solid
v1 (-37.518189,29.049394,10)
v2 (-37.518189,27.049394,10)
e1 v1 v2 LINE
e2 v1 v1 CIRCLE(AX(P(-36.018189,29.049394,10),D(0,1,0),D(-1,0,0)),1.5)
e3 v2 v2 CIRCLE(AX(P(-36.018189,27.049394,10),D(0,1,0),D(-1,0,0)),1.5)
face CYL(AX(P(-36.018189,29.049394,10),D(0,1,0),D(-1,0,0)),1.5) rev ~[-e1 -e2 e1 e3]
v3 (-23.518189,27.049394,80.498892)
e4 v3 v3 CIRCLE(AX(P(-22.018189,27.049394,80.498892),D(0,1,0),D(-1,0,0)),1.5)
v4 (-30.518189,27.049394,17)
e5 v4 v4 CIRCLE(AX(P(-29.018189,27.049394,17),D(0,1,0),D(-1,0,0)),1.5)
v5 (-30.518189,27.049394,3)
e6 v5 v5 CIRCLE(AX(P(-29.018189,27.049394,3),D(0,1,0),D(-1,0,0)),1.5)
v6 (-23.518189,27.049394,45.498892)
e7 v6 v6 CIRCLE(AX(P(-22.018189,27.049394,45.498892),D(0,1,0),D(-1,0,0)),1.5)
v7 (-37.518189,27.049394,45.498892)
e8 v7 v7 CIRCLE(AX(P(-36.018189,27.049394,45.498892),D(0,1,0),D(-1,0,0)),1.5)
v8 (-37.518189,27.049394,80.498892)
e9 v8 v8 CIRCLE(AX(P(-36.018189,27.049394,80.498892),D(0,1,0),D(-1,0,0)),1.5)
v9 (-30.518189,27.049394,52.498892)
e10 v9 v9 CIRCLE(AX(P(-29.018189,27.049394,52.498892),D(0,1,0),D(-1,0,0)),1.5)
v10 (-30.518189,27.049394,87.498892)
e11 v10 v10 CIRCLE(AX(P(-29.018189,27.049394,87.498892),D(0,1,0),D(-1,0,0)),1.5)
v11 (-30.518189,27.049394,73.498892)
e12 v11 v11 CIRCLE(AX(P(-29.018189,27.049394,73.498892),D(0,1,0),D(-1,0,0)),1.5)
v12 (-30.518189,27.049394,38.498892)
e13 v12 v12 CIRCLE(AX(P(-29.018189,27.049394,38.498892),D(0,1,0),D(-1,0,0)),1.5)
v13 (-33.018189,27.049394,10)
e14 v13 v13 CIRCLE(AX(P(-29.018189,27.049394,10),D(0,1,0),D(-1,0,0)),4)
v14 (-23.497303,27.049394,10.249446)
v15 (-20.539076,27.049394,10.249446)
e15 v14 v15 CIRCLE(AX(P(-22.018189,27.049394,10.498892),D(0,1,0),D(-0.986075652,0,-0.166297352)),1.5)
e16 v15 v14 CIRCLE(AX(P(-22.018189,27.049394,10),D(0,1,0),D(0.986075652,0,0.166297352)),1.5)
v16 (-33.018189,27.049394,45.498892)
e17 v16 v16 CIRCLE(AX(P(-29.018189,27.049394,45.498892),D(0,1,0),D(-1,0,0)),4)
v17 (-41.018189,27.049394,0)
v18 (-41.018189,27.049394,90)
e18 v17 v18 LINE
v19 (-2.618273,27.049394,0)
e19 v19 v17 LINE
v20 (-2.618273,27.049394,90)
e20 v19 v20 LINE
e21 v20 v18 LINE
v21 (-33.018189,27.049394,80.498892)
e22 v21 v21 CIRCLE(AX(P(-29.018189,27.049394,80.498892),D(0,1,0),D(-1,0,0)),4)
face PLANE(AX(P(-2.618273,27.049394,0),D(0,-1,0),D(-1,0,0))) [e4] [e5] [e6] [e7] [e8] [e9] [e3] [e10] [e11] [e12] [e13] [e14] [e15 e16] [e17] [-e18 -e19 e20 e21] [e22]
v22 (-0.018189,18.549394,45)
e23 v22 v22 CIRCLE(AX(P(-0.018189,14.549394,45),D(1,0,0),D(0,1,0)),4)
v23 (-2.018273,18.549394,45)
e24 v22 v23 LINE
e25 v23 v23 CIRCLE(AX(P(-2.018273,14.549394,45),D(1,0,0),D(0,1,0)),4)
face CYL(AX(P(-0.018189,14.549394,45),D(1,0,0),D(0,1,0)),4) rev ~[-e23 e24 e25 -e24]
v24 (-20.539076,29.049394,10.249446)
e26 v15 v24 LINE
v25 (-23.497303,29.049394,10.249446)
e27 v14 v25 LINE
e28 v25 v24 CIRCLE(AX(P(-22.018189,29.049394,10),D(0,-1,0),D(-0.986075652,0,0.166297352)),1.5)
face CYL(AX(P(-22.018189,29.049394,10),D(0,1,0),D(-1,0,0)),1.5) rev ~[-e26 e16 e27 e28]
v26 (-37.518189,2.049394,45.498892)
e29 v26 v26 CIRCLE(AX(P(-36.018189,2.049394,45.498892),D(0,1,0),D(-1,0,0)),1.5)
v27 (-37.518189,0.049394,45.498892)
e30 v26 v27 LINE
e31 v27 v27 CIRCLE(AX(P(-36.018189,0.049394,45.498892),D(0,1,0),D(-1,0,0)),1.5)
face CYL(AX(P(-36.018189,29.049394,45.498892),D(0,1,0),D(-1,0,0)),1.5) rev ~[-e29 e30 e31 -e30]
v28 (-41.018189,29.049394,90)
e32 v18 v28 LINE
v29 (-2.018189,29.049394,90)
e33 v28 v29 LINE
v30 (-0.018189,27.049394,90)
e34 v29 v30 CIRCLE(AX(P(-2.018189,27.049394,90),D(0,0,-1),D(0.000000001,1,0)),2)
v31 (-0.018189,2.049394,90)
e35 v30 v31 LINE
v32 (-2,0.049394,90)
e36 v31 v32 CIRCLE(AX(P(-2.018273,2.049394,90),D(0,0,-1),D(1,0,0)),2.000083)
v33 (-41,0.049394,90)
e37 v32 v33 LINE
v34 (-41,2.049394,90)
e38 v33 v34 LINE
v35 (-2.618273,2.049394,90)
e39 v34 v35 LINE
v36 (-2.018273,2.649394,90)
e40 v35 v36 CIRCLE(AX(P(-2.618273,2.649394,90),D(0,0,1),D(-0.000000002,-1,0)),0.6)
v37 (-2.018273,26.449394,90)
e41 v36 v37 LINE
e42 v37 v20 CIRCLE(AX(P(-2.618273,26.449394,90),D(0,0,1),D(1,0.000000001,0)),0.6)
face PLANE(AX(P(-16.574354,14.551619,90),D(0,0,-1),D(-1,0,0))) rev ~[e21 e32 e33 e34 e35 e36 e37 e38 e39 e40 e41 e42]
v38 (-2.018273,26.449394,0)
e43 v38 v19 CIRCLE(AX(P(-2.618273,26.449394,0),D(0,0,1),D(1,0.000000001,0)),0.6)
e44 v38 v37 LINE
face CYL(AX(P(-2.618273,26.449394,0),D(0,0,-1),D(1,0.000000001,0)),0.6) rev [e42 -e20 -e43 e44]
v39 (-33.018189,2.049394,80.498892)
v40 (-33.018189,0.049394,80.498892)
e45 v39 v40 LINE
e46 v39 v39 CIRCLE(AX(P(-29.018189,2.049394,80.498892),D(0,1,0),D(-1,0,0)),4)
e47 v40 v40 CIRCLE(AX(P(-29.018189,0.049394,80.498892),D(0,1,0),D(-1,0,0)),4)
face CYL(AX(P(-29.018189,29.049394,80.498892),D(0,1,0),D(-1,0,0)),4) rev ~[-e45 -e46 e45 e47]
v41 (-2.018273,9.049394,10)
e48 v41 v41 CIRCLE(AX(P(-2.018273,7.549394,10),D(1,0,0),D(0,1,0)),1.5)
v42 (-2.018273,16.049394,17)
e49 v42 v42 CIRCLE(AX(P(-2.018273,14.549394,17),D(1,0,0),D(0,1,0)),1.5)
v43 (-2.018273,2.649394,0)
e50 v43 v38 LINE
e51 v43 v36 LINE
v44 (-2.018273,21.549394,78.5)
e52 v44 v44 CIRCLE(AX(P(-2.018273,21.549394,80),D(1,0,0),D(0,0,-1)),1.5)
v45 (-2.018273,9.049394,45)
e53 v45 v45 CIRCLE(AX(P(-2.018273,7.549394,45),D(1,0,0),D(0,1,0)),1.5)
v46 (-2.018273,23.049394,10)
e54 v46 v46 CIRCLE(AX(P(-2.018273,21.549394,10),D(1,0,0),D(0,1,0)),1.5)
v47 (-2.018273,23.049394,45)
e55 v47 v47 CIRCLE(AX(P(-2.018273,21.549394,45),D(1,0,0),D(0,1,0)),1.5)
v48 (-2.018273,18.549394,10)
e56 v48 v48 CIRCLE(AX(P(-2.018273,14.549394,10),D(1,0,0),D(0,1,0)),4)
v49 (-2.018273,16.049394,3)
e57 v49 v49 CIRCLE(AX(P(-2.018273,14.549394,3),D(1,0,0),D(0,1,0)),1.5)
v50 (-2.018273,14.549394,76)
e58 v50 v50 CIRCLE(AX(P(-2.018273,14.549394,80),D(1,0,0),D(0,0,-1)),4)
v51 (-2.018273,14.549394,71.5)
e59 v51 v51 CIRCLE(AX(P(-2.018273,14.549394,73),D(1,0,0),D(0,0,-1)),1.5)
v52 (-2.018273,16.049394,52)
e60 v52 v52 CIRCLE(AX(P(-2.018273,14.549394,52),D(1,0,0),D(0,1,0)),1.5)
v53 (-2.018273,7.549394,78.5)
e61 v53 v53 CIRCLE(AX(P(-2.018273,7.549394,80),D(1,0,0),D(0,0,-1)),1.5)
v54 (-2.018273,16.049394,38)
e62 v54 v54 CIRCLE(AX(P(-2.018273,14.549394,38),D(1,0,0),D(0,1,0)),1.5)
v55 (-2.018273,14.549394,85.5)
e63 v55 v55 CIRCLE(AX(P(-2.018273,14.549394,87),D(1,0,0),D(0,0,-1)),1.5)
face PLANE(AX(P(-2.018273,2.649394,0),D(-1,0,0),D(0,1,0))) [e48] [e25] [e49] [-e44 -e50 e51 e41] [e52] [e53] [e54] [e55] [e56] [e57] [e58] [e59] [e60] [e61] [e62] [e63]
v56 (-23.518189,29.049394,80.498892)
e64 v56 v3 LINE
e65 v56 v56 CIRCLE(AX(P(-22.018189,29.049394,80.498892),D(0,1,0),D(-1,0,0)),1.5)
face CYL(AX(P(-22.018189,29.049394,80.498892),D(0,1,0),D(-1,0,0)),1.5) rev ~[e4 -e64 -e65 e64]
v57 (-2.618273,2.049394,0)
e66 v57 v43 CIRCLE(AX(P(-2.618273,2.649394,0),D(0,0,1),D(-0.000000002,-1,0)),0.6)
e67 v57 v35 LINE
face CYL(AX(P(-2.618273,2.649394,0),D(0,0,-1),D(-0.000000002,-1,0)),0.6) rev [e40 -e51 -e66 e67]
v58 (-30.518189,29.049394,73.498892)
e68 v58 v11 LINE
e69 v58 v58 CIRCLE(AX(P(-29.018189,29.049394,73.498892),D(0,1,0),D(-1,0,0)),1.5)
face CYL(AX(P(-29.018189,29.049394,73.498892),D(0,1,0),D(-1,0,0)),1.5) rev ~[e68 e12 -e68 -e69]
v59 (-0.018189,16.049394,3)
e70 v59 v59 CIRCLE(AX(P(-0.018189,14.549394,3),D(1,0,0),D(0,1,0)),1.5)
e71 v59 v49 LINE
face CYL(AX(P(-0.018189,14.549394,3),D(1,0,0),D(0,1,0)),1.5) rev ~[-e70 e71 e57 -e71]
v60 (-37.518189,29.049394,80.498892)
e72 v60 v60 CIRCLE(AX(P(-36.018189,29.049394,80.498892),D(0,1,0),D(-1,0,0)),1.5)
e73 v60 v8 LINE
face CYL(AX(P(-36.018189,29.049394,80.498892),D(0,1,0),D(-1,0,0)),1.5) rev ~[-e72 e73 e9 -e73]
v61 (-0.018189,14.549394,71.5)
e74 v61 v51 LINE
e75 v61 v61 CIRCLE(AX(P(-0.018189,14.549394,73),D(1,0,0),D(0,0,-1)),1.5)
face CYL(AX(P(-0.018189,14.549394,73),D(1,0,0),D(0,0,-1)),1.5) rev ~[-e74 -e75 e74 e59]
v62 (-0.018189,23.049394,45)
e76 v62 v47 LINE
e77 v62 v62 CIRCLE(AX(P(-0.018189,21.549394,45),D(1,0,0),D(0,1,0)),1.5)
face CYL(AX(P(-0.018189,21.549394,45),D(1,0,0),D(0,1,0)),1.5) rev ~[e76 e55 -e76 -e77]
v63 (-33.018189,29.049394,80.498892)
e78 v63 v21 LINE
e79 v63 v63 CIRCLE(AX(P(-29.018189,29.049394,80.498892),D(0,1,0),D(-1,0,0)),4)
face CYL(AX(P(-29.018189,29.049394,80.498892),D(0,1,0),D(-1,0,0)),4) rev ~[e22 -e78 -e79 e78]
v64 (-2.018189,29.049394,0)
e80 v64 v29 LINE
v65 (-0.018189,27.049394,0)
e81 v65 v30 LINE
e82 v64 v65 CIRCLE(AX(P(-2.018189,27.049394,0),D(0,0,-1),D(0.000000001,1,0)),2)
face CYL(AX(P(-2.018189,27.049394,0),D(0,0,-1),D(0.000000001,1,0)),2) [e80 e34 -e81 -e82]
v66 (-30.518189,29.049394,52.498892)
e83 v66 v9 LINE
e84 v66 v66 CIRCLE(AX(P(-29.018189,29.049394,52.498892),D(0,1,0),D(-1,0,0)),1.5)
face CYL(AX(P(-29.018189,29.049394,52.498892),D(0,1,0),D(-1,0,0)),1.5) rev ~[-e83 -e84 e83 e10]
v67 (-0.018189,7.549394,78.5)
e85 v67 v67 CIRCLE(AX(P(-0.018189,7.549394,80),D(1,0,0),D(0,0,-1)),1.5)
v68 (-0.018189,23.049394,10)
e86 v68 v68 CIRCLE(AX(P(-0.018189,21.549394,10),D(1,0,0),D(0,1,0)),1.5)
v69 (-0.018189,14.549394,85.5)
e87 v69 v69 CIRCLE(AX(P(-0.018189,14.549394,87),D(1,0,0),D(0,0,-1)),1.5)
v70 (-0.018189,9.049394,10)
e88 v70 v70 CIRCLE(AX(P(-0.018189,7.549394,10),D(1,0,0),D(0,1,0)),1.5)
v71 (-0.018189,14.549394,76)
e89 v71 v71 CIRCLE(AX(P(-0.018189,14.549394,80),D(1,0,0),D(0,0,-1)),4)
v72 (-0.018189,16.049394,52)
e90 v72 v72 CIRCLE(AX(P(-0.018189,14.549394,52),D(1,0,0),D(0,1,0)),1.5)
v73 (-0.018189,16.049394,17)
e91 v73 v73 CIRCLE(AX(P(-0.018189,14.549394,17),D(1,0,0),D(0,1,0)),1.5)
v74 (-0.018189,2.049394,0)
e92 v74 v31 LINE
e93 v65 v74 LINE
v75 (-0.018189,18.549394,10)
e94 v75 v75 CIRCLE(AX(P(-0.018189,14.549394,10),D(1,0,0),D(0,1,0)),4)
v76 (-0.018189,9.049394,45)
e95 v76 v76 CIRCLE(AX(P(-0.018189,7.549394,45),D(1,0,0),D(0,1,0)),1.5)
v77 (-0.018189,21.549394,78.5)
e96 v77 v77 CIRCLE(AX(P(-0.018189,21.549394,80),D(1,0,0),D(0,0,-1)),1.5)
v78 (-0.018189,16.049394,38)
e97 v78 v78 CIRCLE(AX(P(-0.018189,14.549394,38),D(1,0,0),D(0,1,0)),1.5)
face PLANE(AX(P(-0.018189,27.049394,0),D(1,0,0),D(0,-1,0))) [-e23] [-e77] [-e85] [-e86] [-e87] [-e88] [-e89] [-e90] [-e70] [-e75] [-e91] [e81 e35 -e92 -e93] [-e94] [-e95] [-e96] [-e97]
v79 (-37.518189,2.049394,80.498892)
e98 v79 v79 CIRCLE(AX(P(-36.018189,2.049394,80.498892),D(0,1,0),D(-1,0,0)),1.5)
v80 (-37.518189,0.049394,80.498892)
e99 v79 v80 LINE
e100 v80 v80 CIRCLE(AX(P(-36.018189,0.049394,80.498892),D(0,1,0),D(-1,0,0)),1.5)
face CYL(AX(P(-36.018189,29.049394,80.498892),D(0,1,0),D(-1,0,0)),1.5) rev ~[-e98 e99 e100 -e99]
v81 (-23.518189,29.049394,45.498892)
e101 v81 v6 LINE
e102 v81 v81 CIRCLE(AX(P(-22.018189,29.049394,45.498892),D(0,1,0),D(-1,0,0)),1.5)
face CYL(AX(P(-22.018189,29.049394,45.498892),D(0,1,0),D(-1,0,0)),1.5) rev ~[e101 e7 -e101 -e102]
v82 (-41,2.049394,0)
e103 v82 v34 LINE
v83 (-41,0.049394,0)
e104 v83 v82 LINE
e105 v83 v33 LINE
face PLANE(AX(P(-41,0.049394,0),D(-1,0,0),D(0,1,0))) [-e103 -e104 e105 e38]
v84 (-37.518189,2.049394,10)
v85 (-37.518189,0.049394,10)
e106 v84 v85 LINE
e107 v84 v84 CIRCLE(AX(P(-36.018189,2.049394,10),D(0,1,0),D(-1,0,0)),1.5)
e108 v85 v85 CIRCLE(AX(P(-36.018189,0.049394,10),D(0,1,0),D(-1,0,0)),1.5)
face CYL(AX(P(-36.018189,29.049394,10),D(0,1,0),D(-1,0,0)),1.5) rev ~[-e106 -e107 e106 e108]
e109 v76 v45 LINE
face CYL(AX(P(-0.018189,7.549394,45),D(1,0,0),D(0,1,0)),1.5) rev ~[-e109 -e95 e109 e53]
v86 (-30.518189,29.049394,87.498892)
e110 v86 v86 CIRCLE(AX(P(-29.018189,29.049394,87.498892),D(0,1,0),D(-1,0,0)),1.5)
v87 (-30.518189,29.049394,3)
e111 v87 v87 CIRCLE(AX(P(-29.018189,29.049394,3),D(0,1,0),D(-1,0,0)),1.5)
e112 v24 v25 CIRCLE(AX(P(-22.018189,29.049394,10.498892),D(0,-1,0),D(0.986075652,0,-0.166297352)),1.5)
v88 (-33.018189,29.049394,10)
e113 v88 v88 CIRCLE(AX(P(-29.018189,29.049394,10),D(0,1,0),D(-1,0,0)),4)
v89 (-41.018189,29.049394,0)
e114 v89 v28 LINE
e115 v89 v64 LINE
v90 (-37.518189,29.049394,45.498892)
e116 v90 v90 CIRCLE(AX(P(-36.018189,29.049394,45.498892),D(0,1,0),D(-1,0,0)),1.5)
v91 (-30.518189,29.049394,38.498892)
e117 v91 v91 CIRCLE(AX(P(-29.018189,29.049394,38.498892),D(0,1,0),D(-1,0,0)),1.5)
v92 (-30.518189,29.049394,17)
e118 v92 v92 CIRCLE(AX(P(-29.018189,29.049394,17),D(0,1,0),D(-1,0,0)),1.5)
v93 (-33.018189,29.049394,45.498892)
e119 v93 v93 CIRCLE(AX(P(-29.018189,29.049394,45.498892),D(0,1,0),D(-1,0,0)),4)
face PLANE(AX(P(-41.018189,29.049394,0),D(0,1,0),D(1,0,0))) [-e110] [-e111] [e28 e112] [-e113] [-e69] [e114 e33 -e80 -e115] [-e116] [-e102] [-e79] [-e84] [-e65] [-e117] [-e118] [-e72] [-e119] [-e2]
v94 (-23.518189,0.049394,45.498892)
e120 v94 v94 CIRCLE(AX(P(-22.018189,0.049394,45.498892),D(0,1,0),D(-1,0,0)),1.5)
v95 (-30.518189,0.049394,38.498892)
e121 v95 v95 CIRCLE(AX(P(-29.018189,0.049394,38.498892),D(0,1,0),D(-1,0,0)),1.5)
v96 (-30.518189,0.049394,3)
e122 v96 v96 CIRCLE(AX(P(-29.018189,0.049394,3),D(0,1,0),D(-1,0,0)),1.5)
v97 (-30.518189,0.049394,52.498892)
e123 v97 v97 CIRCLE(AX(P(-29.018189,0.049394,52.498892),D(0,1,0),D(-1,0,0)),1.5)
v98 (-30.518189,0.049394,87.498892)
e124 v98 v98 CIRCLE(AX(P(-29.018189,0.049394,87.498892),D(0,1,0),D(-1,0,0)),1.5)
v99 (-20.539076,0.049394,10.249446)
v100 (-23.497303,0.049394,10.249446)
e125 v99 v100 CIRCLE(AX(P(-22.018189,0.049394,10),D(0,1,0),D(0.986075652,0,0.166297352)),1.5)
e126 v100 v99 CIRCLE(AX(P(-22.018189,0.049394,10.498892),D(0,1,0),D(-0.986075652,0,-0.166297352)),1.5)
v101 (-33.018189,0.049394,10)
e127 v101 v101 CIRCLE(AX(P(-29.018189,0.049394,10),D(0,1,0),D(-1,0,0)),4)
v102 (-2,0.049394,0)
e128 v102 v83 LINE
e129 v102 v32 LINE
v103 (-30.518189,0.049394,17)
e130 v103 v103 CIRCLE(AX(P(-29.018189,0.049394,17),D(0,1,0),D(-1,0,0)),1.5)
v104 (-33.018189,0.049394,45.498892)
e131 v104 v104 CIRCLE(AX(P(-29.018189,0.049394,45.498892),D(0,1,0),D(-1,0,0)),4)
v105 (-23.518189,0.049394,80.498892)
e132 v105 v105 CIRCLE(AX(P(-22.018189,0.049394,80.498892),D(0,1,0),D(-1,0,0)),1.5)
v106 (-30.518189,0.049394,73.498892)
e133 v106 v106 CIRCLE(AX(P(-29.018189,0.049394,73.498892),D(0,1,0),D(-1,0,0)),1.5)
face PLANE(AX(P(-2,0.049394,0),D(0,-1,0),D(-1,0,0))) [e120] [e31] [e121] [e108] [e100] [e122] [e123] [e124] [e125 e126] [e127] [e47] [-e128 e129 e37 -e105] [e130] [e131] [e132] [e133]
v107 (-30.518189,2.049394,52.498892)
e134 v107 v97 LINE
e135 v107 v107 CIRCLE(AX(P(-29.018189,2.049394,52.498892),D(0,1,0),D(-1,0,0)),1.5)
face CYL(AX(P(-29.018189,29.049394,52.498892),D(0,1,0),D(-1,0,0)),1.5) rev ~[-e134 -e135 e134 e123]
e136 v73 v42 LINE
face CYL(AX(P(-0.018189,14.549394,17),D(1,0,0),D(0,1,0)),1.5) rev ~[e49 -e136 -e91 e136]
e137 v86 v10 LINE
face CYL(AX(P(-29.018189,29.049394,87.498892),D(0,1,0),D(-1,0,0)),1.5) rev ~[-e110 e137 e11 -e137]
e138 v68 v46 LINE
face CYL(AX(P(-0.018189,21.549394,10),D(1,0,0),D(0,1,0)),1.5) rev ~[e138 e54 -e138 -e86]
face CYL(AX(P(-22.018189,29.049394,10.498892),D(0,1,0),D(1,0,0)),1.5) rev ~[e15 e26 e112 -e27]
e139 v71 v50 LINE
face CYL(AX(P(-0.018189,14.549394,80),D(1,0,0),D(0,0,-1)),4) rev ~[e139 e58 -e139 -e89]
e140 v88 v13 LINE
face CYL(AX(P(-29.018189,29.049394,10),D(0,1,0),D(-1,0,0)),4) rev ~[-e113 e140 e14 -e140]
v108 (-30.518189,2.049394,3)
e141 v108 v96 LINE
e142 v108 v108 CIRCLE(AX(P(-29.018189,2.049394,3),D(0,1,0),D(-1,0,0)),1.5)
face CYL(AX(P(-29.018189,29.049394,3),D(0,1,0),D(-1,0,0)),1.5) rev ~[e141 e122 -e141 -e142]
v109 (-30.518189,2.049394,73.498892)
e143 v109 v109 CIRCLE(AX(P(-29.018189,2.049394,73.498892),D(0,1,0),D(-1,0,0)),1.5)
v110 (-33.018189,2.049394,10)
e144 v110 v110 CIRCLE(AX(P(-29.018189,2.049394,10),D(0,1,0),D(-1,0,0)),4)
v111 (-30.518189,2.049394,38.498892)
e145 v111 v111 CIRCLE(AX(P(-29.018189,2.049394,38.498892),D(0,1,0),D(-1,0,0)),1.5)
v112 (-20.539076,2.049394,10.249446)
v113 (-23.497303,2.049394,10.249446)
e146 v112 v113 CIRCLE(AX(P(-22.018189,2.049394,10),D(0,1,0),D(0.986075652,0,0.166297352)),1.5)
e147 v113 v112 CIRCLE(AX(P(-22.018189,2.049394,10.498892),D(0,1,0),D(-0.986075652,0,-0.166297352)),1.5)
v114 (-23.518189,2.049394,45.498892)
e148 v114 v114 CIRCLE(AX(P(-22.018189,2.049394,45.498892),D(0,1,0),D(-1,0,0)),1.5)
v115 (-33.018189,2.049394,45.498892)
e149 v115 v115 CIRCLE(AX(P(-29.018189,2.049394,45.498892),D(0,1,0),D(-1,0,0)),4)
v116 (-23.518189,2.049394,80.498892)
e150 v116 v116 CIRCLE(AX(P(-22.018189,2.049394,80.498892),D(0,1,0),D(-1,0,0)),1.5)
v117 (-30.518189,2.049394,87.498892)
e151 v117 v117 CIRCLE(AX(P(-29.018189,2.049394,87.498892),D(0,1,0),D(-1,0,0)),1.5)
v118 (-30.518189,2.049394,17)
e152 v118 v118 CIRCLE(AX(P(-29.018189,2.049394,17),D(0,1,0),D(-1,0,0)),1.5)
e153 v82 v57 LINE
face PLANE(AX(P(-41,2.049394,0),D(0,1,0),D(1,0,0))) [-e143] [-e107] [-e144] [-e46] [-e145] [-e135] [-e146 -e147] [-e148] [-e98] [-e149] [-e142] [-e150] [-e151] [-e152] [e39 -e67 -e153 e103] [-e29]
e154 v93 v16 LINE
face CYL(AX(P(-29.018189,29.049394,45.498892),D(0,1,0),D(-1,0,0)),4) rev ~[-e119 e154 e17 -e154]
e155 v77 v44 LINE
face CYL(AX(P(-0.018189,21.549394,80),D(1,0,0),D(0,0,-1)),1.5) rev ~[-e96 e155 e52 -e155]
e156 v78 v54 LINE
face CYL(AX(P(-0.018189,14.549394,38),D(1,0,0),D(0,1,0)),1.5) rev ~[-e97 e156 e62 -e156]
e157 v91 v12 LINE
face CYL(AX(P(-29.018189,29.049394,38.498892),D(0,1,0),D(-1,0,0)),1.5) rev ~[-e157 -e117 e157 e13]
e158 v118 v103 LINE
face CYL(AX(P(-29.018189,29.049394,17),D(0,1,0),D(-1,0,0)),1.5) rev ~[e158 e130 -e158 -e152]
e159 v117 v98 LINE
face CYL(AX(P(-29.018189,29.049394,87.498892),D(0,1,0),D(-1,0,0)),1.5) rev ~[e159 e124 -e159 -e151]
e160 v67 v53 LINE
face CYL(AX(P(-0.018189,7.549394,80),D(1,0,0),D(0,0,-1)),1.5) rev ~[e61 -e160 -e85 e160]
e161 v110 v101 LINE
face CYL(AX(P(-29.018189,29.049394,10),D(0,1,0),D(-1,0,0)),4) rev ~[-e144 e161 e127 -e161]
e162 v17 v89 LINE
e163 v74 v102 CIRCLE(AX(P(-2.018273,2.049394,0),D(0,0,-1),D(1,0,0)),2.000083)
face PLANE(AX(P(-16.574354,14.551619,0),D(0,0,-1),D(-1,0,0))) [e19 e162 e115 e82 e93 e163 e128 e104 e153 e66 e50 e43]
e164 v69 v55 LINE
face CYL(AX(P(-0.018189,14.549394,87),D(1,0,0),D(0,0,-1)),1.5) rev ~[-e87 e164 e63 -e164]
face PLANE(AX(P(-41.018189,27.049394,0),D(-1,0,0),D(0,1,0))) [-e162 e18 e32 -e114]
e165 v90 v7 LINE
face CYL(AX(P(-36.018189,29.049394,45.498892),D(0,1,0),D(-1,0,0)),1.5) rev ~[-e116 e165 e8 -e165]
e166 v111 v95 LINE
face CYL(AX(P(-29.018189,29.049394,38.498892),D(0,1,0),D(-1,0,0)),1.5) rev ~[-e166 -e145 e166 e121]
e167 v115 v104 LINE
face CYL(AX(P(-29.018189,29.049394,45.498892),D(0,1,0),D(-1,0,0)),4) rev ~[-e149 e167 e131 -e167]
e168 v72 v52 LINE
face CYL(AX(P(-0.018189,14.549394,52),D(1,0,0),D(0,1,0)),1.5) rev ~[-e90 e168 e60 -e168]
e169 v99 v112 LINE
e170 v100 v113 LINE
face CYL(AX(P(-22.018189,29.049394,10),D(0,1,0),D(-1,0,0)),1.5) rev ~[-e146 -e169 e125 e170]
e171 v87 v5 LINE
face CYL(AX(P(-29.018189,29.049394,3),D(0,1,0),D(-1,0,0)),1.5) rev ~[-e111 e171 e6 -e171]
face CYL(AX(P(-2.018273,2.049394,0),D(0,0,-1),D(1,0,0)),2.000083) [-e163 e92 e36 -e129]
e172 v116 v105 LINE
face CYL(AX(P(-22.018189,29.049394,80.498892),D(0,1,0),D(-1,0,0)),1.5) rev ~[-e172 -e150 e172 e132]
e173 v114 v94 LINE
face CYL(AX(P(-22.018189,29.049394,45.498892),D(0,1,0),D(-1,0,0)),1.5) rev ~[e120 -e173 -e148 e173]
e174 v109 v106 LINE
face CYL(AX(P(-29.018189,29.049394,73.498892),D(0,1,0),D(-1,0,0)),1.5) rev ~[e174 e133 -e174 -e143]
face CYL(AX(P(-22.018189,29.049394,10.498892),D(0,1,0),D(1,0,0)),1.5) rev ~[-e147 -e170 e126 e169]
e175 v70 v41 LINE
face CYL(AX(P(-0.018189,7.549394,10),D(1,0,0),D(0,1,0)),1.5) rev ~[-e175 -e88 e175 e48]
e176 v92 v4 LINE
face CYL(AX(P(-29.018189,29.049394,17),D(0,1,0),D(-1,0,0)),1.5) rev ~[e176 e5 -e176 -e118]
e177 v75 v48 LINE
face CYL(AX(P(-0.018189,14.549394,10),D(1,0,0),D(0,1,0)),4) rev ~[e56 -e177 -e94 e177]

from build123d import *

# Parameters (mm, degrees)
BOSS_EXTRUDE1_DEPTH   = 90
SKETCH4_R             = 1.5
SKETCH4_R_2           = 4
CUT_EXTRUDE1_DEPTH    = 31
SKETCH6_R             = 4
SKETCH6_R_2           = 1.5
CUT_EXTRUDE2_DEPTH    = 31
CROQUIS3_R            = 4
CROQUIS3_R_2          = 1.5
CORTAR_EXTRUIR1_DEPTH = 10
CROQUIS6_R            = 4
CROQUIS6_R_2          = 1.5
CORTAR_EXTRUIR2_DEPTH = 10


with BuildPart() as part:
    # Sketch3 → Boss-Extrude1 (new body)
    with BuildSketch(Plane.XY):
        with BuildLine():
            Line((-2, 0.049393959), (-41, 0.049393959))
            Line((-41, 0.049393959), (-41, 2.049393959))
            Line((-41, 2.049393959), (-2.618272552, 2.049393959))
            ThreePointArc((-2.618272552, 2.049393959), (-2.194008483, 2.22512989), (-2.018272552, 2.649393959))
            Line((-2.018272552, 2.649393959), (-2.018272552, 26.449393959))
            ThreePointArc((-2.018272552, 26.449393959), (-2.194008483, 26.873658027), (-2.618272552, 27.049393959))
            Line((-2.618272552, 27.049393959), (-41.018189082, 27.049393959))
            Line((-41.018189082, 27.049393959), (-41.018189082, 29.049393959))
            Line((-41.018189082, 29.049393959), (-2.018189082, 29.049393959))
            ThreePointArc((-2.018189082, 29.049393959), (-0.60397552, 28.463607521), (-0.018189082, 27.049393959))
            Line((-0.018189082, 27.049393959), (-0.018189082, 2.049393959))
            ThreePointArc((-0.018189082, 2.049393959), (-0.597554333, 0.64159652), (-2, 0.049393959))
        make_face()
    extrude(amount=BOSS_EXTRUDE1_DEPTH)

    # Sketch4 → Cut-Extrude1 (cut)
    with BuildSketch(Plane(origin=(0, 29.049393959, 0), x_dir=(1, 0, 0), z_dir=(0, 1, 0))):
        with Locations(Location((-29.018189082, -3, 0), (0, 0, 180))):
            Circle(SKETCH4_R)
        with Locations(Location((-36.018189082, -10, 0), (0, 0, 180))):
            Circle(SKETCH4_R)
        with Locations(Location((-29.018189082, -10, 0), (0, 0, 180))):
            Circle(SKETCH4_R_2)
        with Locations(Location((-22.018189082, -10, 0), (0, 0, 180))):
            Circle(SKETCH4_R)
        with Locations(Location((-29.018189082, -17, 0), (0, 0, 180))):
            Circle(SKETCH4_R)
    extrude(amount=-CUT_EXTRUDE1_DEPTH, mode=Mode.SUBTRACT)

    # Sketch6 → Cut-Extrude2 (cut)
    with BuildSketch(Plane(origin=(0, 29.049393959, 0), x_dir=(1, 0, 0), z_dir=(0, 1, 0))):
        with Locations(Location((-29.018189082, -45.498892055, 0), (0, 0, 180))):
            Circle(SKETCH6_R)
        with Locations(Location((-29.018189082, -80.498892055, 0), (0, 0, 180))):
            Circle(SKETCH6_R)
        with Locations(Location((-36.018189082, -45.498892055, 0), (0, 0, 180))):
            Circle(SKETCH6_R_2)
        with Locations(Location((-36.018189082, -80.498892055, 0), (0, 0, 180))):
            Circle(SKETCH6_R_2)
        with Locations((5.981810918, -52.498892055)):
            Circle(SKETCH6_R_2)
        with Locations(Location((-29.018189082, -52.498892055, 0), (0, 0, 180))):
            Circle(SKETCH6_R_2)
        with Locations((-22.018189082, -10.498892055)):
            Circle(SKETCH6_R_2)
        with Locations(Location((-22.018189082, -45.498892055, 0), (0, 0, 180))):
            Circle(SKETCH6_R_2)
        with Locations((-64.018189082, -38.498892055)):
            Circle(SKETCH6_R_2)
        with Locations(Location((-29.018189082, -38.498892055, 0), (0, 0, 180))):
            Circle(SKETCH6_R_2)
        with Locations(Location((-29.018189082, -73.498892055, 0), (0, 0, 180))):
            Circle(SKETCH6_R_2)
        with Locations(Location((-22.018189082, -80.498892055, 0), (0, 0, 180))):
            Circle(SKETCH6_R_2)
        with Locations(Location((-29.018189082, -87.498892055, 0), (0, 0, 180))):
            Circle(SKETCH6_R_2)
    extrude(amount=-CUT_EXTRUDE2_DEPTH, mode=Mode.SUBTRACT)

    # Croquis3 → Cortar-Extruir1 (cut)
    with BuildSketch(Plane(origin=(-0.018189082, 0, 0), x_dir=(0, 0, -1), z_dir=(1, 0, 0))):
        with Locations(Location((-45, 14.549393959, 0), (0, 0, 90))):
            Circle(CROQUIS3_R)
        with Locations(Location((-38, 14.549393959, 0), (0, 0, 90))):
            Circle(CROQUIS3_R_2)
        with Locations(Location((-45, 21.549393959, 0), (0, 0, 90))):
            Circle(CROQUIS3_R_2)
        with Locations(Location((-45, 7.549393959, 0), (0, 0, 90))):
            Circle(CROQUIS3_R_2)
        with Locations(Location((-52, 14.549393959, 0), (0, 0, 90))):
            Circle(CROQUIS3_R_2)
    extrude(amount=-CORTAR_EXTRUIR1_DEPTH, mode=Mode.SUBTRACT)

    # Croquis6 → Cortar-Extruir2 (cut)
    with BuildSketch(Plane(origin=(-0.018189082, 0, 0), x_dir=(0, 0, -1), z_dir=(1, 0, 0))):
        with Locations(Location((-10, 14.549393959, 0), (0, 0, 90))):
            Circle(CROQUIS6_R)
        with Locations(Location((-3, 14.549393959, 0), (0, 0, 90))):
            Circle(CROQUIS6_R_2)
        with Locations(Location((-17, 14.549393959, 0), (0, 0, 90))):
            Circle(CROQUIS6_R_2)
        with Locations(Location((-10, 21.549393959, 0), (0, 0, 90))):
            Circle(CROQUIS6_R_2)
        with Locations(Location((-10, 7.549393959, 0), (0, 0, 90))):
            Circle(CROQUIS6_R_2)
        with Locations((-87, 14.549393959)):
            Circle(CROQUIS6_R_2)
        with Locations((-80, 7.549393959)):
            Circle(CROQUIS6_R_2)
        with Locations((-80, 21.549393959)):
            Circle(CROQUIS6_R_2)
        with Locations((-80, 14.549393959)):
            Circle(CROQUIS6_R)
        with Locations((-73, 14.549393959)):
            Circle(CROQUIS6_R_2)
    extrude(amount=-CORTAR_EXTRUIR2_DEPTH, mode=Mode.SUBTRACT)


solid = part.part
